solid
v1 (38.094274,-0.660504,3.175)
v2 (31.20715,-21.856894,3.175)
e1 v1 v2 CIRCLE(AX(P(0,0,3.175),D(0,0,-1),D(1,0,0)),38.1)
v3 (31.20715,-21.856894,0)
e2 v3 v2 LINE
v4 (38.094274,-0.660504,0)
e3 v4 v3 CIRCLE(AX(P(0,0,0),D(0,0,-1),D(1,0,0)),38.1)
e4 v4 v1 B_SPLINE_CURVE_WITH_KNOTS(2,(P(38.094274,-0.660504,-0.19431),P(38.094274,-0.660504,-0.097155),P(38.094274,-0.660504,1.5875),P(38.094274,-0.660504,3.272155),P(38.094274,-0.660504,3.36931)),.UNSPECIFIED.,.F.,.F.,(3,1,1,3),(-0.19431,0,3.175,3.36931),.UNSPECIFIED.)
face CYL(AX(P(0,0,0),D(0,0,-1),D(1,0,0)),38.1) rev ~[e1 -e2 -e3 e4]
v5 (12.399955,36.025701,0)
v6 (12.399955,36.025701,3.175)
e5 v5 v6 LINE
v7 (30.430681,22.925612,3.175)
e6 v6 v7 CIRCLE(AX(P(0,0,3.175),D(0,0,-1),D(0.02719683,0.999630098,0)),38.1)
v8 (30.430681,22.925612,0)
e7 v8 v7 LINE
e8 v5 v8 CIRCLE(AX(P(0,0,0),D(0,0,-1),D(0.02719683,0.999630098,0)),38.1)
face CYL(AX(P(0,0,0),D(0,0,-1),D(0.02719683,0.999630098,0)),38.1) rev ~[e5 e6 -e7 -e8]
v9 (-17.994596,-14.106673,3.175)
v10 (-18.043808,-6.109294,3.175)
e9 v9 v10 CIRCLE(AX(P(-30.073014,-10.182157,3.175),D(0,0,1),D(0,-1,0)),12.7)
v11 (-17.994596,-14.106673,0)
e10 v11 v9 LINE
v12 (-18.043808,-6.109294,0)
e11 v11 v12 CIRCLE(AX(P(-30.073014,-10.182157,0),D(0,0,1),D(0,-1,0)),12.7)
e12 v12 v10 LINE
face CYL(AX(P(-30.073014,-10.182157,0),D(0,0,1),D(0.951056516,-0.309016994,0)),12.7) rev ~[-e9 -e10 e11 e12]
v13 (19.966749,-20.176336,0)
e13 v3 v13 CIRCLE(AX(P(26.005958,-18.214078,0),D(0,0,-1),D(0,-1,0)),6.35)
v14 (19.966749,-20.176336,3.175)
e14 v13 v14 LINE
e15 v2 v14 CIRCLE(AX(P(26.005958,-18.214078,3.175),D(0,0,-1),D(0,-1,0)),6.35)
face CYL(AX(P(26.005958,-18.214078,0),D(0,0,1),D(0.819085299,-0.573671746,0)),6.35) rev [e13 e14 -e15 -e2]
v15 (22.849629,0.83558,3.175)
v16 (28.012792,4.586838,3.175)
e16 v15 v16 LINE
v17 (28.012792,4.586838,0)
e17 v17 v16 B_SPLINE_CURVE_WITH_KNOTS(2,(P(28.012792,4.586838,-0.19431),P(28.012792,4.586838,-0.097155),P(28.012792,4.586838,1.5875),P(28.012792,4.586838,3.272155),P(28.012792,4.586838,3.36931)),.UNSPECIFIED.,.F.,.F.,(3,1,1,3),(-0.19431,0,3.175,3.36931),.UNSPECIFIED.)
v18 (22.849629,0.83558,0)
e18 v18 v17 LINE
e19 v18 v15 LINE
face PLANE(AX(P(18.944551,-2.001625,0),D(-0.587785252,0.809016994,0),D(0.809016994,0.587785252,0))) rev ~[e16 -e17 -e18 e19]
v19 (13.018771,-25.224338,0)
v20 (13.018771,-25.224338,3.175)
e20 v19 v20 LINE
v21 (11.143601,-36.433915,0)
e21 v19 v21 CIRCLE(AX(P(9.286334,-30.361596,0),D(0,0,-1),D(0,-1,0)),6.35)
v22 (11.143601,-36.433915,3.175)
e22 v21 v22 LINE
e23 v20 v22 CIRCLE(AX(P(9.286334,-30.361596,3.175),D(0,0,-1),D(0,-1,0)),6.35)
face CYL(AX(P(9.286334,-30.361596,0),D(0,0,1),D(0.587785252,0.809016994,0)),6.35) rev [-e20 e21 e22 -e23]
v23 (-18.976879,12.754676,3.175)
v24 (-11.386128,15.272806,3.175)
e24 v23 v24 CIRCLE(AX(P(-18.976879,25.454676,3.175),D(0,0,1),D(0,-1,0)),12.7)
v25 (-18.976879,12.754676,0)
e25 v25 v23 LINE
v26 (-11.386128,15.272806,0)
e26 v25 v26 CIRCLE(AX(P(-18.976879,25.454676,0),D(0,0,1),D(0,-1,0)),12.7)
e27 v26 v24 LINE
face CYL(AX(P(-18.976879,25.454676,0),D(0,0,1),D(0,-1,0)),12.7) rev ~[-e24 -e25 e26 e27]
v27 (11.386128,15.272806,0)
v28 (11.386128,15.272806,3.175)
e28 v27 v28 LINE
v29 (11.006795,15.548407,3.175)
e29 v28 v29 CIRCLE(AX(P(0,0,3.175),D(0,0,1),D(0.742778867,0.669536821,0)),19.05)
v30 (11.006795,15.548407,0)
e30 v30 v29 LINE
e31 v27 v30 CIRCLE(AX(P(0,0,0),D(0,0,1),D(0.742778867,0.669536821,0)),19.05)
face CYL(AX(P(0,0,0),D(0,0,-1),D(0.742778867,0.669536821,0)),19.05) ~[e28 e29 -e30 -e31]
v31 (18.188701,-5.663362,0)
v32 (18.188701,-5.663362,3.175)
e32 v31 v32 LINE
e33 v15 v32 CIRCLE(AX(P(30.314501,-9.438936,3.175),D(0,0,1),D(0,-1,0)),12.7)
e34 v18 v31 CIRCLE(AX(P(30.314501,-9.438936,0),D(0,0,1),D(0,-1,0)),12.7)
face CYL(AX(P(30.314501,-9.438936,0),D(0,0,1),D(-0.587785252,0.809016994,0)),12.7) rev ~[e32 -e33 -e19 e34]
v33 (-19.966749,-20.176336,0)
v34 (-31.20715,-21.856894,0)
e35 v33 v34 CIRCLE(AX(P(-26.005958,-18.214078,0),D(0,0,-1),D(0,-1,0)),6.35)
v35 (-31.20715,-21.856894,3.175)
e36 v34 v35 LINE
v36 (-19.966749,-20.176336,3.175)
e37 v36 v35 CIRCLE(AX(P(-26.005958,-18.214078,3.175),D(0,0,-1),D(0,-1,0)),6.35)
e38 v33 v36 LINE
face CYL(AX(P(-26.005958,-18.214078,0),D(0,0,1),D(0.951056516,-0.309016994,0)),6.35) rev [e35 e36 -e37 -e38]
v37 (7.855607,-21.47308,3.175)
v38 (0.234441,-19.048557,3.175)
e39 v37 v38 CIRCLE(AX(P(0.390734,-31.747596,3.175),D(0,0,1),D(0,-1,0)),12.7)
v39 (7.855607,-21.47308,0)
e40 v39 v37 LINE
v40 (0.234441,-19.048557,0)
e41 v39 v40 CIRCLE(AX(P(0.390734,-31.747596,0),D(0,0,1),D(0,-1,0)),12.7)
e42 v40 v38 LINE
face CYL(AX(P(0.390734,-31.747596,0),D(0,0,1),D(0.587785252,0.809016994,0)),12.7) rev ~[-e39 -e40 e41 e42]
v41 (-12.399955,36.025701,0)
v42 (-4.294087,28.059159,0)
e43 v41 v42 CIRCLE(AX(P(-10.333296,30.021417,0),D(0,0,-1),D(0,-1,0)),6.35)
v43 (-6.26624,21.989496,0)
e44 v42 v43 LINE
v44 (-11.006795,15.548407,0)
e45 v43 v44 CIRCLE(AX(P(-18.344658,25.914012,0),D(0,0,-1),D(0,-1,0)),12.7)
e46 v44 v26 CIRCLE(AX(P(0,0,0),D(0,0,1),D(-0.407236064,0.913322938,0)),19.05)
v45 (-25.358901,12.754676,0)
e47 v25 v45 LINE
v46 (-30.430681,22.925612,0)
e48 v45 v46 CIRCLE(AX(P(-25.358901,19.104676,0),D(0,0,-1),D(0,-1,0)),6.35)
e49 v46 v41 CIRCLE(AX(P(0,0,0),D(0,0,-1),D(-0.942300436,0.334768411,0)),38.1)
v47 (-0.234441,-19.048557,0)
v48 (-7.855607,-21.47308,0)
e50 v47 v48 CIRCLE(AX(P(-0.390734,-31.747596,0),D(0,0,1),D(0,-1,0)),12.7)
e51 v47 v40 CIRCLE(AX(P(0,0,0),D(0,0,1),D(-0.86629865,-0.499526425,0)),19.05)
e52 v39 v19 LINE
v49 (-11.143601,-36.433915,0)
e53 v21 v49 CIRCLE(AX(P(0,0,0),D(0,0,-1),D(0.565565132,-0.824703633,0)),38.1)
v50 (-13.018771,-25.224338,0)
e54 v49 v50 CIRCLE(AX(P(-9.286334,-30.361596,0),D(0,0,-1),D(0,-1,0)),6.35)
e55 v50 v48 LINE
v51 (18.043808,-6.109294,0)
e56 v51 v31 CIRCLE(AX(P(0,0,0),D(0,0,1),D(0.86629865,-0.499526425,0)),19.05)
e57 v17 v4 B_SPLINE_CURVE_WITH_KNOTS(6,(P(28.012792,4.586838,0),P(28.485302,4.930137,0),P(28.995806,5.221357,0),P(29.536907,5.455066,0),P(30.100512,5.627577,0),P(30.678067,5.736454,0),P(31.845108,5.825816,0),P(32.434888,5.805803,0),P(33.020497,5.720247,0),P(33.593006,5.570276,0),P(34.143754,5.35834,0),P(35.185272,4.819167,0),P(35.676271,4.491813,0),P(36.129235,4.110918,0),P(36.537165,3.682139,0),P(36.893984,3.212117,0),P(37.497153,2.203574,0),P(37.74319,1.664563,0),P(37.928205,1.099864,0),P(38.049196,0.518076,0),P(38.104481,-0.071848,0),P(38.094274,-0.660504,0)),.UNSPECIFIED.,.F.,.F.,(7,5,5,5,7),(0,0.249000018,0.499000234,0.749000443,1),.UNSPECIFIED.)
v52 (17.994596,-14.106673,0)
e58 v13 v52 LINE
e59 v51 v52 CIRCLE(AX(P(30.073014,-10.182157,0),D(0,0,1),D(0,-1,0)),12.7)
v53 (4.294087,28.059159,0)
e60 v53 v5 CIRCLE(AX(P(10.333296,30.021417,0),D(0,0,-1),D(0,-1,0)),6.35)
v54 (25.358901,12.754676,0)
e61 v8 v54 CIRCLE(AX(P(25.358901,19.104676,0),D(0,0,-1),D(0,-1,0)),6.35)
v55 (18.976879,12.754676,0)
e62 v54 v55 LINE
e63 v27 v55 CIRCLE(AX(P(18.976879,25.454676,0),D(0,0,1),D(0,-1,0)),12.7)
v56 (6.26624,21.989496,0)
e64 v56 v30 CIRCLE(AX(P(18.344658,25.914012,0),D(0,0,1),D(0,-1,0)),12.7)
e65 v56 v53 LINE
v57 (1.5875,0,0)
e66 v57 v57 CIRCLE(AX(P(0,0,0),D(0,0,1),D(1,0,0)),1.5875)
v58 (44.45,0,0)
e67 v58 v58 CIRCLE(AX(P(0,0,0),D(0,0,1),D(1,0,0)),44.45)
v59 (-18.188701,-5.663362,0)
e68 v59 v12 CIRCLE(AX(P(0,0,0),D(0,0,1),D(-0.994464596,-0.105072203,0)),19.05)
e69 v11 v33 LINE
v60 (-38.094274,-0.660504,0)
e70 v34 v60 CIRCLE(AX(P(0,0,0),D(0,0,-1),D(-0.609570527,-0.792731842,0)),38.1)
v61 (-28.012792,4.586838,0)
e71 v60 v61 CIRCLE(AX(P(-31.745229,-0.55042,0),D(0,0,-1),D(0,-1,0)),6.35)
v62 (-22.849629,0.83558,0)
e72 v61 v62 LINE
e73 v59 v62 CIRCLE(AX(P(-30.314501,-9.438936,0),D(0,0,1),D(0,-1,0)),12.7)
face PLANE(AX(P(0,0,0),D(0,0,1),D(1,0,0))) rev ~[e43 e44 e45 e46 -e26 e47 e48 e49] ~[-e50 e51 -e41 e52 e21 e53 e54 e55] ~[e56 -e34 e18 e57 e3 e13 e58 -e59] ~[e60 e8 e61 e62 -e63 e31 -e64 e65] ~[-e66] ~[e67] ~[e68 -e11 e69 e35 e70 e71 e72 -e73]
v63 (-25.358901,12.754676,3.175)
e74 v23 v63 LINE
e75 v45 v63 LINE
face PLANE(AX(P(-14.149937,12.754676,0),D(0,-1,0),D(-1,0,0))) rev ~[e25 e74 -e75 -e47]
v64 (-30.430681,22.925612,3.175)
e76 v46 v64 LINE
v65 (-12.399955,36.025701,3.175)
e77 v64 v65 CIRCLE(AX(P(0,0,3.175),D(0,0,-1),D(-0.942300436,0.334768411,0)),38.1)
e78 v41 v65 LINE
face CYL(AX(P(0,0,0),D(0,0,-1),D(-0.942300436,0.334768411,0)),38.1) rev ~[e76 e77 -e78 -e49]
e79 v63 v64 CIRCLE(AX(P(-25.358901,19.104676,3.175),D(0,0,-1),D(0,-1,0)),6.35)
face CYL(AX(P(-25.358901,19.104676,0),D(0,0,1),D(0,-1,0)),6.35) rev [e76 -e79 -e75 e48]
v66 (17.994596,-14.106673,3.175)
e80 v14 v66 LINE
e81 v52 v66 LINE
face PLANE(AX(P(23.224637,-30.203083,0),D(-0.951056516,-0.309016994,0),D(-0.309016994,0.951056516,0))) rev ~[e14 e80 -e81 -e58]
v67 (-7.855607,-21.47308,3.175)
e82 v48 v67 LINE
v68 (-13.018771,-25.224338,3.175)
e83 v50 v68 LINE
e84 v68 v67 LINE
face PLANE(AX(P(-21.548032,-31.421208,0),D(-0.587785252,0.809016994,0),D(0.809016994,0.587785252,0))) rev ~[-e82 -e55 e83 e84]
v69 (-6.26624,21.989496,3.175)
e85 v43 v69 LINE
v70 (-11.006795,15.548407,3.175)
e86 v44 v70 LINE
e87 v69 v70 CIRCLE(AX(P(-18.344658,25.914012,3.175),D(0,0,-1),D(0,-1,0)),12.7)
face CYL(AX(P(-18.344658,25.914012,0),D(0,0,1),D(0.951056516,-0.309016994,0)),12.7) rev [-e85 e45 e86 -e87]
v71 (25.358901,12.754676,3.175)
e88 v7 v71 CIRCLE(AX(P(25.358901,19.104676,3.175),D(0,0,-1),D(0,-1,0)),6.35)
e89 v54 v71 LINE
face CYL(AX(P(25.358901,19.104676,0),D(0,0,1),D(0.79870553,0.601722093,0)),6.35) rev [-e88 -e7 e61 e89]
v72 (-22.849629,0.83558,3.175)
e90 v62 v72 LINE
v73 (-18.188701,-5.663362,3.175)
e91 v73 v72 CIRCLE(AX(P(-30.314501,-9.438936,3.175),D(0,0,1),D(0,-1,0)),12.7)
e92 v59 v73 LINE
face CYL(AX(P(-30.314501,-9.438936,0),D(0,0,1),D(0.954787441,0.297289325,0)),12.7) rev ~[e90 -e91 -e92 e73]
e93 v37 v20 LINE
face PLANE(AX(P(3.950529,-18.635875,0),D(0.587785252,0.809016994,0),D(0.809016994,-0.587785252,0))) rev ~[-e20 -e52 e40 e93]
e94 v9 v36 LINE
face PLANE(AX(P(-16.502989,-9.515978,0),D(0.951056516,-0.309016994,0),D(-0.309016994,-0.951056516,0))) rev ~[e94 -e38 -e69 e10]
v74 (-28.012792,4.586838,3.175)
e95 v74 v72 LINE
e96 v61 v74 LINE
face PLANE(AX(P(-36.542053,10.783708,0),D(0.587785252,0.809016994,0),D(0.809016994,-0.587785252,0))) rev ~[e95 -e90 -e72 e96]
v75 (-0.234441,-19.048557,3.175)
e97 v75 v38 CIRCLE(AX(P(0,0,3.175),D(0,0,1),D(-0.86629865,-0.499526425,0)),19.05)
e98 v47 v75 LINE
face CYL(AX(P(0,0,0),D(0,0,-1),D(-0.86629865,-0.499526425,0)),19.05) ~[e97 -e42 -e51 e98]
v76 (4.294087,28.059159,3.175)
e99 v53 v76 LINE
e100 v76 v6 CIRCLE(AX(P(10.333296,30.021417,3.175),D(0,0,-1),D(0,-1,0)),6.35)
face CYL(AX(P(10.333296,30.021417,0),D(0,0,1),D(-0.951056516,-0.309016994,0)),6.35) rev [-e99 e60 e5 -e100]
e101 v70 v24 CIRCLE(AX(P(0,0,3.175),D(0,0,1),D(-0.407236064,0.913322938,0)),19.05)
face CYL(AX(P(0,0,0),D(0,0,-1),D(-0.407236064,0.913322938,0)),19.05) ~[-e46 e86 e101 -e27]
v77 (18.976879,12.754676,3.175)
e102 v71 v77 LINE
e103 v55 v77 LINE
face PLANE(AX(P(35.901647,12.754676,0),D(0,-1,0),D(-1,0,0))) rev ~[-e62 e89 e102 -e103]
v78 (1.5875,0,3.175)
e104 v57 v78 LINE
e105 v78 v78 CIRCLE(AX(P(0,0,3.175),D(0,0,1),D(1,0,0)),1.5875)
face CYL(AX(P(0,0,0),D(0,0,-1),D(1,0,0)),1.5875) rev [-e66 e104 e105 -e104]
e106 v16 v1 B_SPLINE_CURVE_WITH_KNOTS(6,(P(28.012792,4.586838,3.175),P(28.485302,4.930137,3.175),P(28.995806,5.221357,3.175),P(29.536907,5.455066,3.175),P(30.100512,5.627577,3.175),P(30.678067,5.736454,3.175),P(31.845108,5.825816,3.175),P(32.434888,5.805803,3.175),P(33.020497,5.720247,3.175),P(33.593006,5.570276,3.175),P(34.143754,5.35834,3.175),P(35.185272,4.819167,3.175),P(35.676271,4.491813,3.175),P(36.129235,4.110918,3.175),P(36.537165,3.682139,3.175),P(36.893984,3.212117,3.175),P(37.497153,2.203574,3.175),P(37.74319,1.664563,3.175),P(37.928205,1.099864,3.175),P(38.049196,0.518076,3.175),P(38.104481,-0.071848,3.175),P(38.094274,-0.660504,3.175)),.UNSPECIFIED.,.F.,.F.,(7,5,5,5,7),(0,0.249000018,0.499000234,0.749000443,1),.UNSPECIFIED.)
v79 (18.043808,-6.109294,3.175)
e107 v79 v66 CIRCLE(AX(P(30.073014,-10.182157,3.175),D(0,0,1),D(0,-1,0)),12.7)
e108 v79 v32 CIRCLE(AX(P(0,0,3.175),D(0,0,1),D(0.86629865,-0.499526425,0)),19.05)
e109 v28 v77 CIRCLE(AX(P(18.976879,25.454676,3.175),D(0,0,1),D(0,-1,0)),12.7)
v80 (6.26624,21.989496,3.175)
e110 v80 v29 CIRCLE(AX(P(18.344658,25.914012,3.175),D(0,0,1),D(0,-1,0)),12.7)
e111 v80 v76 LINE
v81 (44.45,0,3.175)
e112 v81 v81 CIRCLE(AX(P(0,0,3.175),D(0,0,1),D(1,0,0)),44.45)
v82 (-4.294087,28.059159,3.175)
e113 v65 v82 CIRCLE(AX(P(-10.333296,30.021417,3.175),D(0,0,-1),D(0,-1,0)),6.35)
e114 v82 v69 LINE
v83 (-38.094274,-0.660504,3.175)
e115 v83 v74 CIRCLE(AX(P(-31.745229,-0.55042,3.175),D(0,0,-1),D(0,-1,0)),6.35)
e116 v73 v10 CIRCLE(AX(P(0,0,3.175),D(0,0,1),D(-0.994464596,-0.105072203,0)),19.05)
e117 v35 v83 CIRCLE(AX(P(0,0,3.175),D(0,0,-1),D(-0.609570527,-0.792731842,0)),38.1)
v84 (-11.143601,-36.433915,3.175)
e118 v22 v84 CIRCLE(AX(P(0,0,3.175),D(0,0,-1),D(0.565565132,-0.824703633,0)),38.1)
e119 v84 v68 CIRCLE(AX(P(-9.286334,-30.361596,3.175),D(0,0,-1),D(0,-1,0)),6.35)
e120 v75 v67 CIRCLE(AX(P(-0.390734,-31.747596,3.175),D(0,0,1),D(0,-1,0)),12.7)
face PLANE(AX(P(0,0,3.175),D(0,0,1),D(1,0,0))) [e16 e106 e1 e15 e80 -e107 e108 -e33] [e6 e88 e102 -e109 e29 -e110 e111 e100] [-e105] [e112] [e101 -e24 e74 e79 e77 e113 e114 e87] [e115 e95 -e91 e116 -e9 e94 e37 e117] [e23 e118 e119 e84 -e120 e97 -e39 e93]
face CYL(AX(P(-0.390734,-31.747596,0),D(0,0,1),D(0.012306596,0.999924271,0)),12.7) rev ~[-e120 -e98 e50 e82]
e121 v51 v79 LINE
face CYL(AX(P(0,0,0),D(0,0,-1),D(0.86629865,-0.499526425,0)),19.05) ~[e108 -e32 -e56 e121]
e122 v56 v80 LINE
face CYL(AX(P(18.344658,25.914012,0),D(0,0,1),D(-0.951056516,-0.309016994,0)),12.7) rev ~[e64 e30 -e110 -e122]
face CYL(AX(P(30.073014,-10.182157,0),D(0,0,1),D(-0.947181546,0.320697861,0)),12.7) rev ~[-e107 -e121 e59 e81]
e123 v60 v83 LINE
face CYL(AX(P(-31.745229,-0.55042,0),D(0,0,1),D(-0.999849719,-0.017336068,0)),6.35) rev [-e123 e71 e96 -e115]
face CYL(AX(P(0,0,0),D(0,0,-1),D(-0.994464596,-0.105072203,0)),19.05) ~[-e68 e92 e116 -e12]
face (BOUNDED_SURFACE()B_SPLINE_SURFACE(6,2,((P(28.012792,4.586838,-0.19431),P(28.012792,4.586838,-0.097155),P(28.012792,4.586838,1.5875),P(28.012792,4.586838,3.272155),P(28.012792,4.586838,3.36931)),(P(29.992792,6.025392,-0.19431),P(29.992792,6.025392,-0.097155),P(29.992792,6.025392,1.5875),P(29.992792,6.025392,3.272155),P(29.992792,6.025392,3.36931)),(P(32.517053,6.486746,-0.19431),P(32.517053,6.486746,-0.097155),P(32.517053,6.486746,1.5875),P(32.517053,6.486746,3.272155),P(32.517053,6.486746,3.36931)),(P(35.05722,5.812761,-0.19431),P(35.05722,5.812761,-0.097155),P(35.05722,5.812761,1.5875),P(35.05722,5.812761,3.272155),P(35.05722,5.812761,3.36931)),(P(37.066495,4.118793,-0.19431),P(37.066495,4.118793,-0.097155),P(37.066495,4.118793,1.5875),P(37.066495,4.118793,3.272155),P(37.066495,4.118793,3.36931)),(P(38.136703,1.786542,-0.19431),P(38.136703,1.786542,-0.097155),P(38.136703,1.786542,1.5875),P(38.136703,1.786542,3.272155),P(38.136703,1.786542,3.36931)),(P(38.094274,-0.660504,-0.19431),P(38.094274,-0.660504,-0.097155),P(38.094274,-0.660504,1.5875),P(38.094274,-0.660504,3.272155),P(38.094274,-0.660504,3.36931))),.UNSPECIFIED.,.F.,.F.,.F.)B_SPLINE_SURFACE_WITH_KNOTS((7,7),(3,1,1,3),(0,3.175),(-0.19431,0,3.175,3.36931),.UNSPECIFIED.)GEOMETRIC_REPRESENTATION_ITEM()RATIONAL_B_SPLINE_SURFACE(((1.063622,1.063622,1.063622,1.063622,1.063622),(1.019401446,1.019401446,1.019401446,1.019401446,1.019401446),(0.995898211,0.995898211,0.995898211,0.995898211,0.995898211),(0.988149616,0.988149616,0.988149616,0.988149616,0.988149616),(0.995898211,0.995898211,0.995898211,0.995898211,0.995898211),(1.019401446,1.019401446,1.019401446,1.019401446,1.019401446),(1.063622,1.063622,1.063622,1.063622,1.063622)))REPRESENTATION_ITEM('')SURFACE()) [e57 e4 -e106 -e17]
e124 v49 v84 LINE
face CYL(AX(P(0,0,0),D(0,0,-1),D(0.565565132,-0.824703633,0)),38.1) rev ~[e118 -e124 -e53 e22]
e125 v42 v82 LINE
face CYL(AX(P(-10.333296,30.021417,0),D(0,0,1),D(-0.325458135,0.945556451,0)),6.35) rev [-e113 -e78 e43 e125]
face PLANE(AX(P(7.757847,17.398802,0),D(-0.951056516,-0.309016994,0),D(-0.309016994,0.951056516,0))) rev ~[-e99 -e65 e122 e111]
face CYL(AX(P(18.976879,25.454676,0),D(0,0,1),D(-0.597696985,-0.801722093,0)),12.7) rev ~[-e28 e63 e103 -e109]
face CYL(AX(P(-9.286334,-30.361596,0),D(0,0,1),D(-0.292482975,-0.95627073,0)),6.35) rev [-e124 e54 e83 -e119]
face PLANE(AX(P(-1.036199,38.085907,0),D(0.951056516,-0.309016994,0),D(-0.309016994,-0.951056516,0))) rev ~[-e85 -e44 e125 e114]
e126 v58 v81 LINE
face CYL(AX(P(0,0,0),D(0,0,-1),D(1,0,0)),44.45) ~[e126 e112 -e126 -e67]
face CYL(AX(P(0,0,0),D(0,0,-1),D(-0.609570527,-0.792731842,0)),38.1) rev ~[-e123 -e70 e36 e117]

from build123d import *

# Parameters (mm, degrees)
F0_R     = 44.45
F0_R_2   = 1.5875
F1_DEPTH = 3.175
F2_R     = 12.7
F3_R     = 6.35


with BuildPart() as f1:
    # F0 (on Top) → F1 (new body)
    with BuildSketch(Plane.XY):
        Circle(F0_R)
        with BuildLine():
            ThreePointArc((39.2548577101, 12.7546764428), (40.7668362581, 6.4568325445), (41.275, 0))
            ThreePointArc((41.275, 0), (36.7762942859, -18.7384578767), (24.2608362884, -33.3921764428))
            ThreePointArc((24.2608362884, -33.3921764428), (0, -41.275), (-24.2608362884, -33.3921764428))
            ThreePointArc((-24.2608362884, -33.3921764428), (-39.2548577101, -12.7546764428), (-39.2548577101, 12.7546764428))
            ThreePointArc((-39.2548577101, 12.7546764428), (-24.2608362884, 33.3921764428), (0, 41.275))
            ThreePointArc((0, 41.275), (24.2608362884, 33.3921764428), (39.2548577101, 12.7546764428))
        make_face(mode=Mode.SUBTRACT)
        with BuildLine():
            Line((-1.0361992177, 38.0859067265), (0, 41.275))
            ThreePointArc((0, 41.275), (-24.2608362884, 33.3921764428), (-39.2548577101, 12.7546764428))
            Line((-39.2548577101, 12.7546764428), (-35.9016466034, 12.7546764428))
            ThreePointArc((-35.9016466034, 12.7546764428), (-22.3946181123, 30.8235474857), (-1.0361992177, 38.0859067265))
        make_face()
        with BuildLine():
            ThreePointArc((-39.2548577101, 12.7546764428), (-39.2548577101, -12.7546764428), (-24.2608362884, -33.3921764428))
            Line((-24.2608362884, -33.3921764428), (-23.2246370707, -30.2030831693))
            ThreePointArc((-23.2246370707, -30.2030831693), (-36.2352532708, -11.7735474857), (-36.5420529391, 10.7837084065))
            Line((-36.5420529391, 10.7837084065), (-39.2548577101, 12.7546764428))
        make_face()
        with BuildLine():
            ThreePointArc((-24.2608362884, -33.3921764428), (0, -41.275), (24.2608362884, -33.3921764428))
            Line((24.2608362884, -33.3921764428), (21.5480315174, -31.4212084065))
            ThreePointArc((21.5480315174, -31.4212084065), (0, -38.1), (-21.5480315174, -31.4212084065))
            Line((-21.5480315174, -31.4212084065), (-24.2608362884, -33.3921764428))
        make_face()
        with BuildLine():
            ThreePointArc((24.2608362884, -33.3921764428), (36.7762942859, -18.7384578767), (41.275, 0))
            ThreePointArc((41.275, 0), (40.7668362581, 6.4568325445), (39.2548577101, 12.7546764428))
            Line((39.2548577101, 12.7546764428), (36.5420529391, 10.7837084065))
            ThreePointArc((36.5420529391, 10.7837084065), (37.7085018065, 5.447833653), (38.1, 0))
            ThreePointArc((38.1, 0), (34.1794431815, -16.833765586), (23.2246370707, -30.2030831693))
            Line((23.2246370707, -30.2030831693), (24.2608362884, -33.3921764428))
        make_face()
        with BuildLine():
            Line((35.9016466034, 12.7546764428), (39.2548577101, 12.7546764428))
            ThreePointArc((39.2548577101, 12.7546764428), (24.2608362884, 33.3921764428), (0, 41.275))
            Line((0, 41.275), (1.0361992177, 38.0859067265))
            ThreePointArc((1.0361992177, 38.0859067265), (22.3946181123, 30.8235474857), (35.9016466034, 12.7546764428))
        make_face()
        with BuildLine():
            Line((7.7578470137, 17.398801962), (1.0361992177, 38.0859067265))
            ThreePointArc((1.0361992177, 38.0859067265), (0, 38.1), (-1.0361992177, 38.0859067265))
            Line((-1.0361992177, 38.0859067265), (-7.7578470137, 17.398801962))
            ThreePointArc((-7.7578470137, 17.398801962), (0, 19.05), (7.7578470137, 17.398801962))
        make_face()
        with BuildLine():
            Line((-14.1499374147, 12.7546764428), (-35.9016466034, 12.7546764428))
            ThreePointArc((-35.9016466034, 12.7546764428), (-36.2352532708, 11.7735474857), (-36.5420529391, 10.7837084065))
            Line((-36.5420529391, 10.7837084065), (-18.9445505487, -2.0016254668))
            ThreePointArc((-18.9445505487, -2.0016254668), (-18.1176266354, 5.8867737428), (-14.1499374147, 12.7546764428))
        make_face()
        with BuildLine():
            Line((18.9445505487, -2.0016254668), (36.5420529391, 10.7837084065))
            ThreePointArc((36.5420529391, 10.7837084065), (36.2352532708, 11.7735474857), (35.9016466034, 12.7546764428))
            Line((35.9016466034, 12.7546764428), (14.1499374147, 12.7546764428))
            ThreePointArc((14.1499374147, 12.7546764428), (17.7828401521, 6.8317710826), (19.05, 0))
            ThreePointArc((19.05, 0), (19.0236193711, -1.0022005907), (18.9445505487, -2.0016254668))
        make_face()
        with BuildLine():
            Line((3.9505291269, -18.6358745332), (21.5480315174, -31.4212084065))
            ThreePointArc((21.5480315174, -31.4212084065), (22.3946181123, -30.8235474857), (23.2246370707, -30.2030831693))
            Line((23.2246370707, -30.2030831693), (16.5029892747, -9.5159784048))
            ThreePointArc((16.5029892747, -9.5159784048), (11.1973090562, -15.4117737428), (3.9505291269, -18.6358745332))
        make_face()
        with BuildLine():
            Line((-16.5029892747, -9.5159784048), (-23.2246370707, -30.2030831693))
            ThreePointArc((-23.2246370707, -30.2030831693), (-22.3946181123, -30.8235474857), (-21.5480315174, -31.4212084065))
            Line((-21.5480315174, -31.4212084065), (-3.9505291269, -18.6358745332))
            ThreePointArc((-3.9505291269, -18.6358745332), (-11.1973090562, -15.4117737428), (-16.5029892747, -9.5159784048))
        make_face()
        with BuildLine():
            Line((-35.9016466034, 12.7546764428), (-39.2548577101, 12.7546764428))
            Line((-39.2548577101, 12.7546764428), (-36.5420529391, 10.7837084065))
            ThreePointArc((-36.5420529391, 10.7837084065), (-36.2352532708, 11.7735474857), (-35.9016466034, 12.7546764428))
        make_face()
        with BuildLine():
            Line((-23.2246370707, -30.2030831693), (-24.2608362884, -33.3921764428))
            Line((-24.2608362884, -33.3921764428), (-21.5480315174, -31.4212084065))
            ThreePointArc((-21.5480315174, -31.4212084065), (-22.3946181123, -30.8235474857), (-23.2246370707, -30.2030831693))
        make_face()
        with BuildLine():
            Line((21.5480315174, -31.4212084065), (24.2608362884, -33.3921764428))
            Line((24.2608362884, -33.3921764428), (23.2246370707, -30.2030831693))
            ThreePointArc((23.2246370707, -30.2030831693), (22.3946181123, -30.8235474857), (21.5480315174, -31.4212084065))
        make_face()
        with BuildLine():
            Line((36.5420529391, 10.7837084065), (39.2548577101, 12.7546764428))
            Line((39.2548577101, 12.7546764428), (35.9016466034, 12.7546764428))
            ThreePointArc((35.9016466034, 12.7546764428), (36.2352532708, 11.7735474857), (36.5420529391, 10.7837084065))
        make_face()
        with BuildLine():
            Line((1.0361992177, 38.0859067265), (0, 41.275))
            Line((0, 41.275), (-1.0361992177, 38.0859067265))
            ThreePointArc((-1.0361992177, 38.0859067265), (0, 38.1), (1.0361992177, 38.0859067265))
        make_face()
        with BuildLine():
            ThreePointArc((16.5029892747, -9.5159784048), (18.1176266354, -5.8867737428), (18.9445505487, -2.0016254668))
            ThreePointArc((18.9445505487, -2.0016254668), (19.0236193711, -1.0022005907), (19.05, 0))
            ThreePointArc((19.05, 0), (17.7828401521, 6.8317710826), (14.1499374147, 12.7546764428))
            ThreePointArc((14.1499374147, 12.7546764428), (11.1973090562, 15.4117737428), (7.7578470137, 17.398801962))
            ThreePointArc((7.7578470137, 17.398801962), (0, 19.05), (-7.7578470137, 17.398801962))
            ThreePointArc((-7.7578470137, 17.398801962), (-11.1973090562, 15.4117737428), (-14.1499374147, 12.7546764428))
            ThreePointArc((-14.1499374147, 12.7546764428), (-18.1176266354, 5.8867737428), (-18.9445505487, -2.0016254668))
            ThreePointArc((-18.9445505487, -2.0016254668), (-18.1176266354, -5.8867737428), (-16.5029892747, -9.5159784048))
            ThreePointArc((-16.5029892747, -9.5159784048), (-11.1973090562, -15.4117737428), (-3.9505291269, -18.6358745332))
            ThreePointArc((-3.9505291269, -18.6358745332), (0, -19.05), (3.9505291269, -18.6358745332))
            ThreePointArc((3.9505291269, -18.6358745332), (11.1973090562, -15.4117737428), (16.5029892747, -9.5159784048))
        make_face()
        Circle(F0_R_2, mode=Mode.SUBTRACT)
    extrude(amount=F1_DEPTH)

    # F2
    f2_edges = [f1.edges().sort_by_distance(p)[0] for p in [
        (-7.757847, 17.398802, 1.5875),
        (7.757847, 17.398802, 1.5875),
        (16.502989, -9.515978, 1.5875),
        (18.944551, -2.001625, 1.5875),
        (14.149937, 12.754676, 1.5875),
        (-14.149937, 12.754676, 1.5875),
        (-16.502989, -9.515978, 1.5875),
        (-18.944551, -2.001625, 1.5875),
        (-3.950529, -18.635875, 1.5875),
        (3.950529, -18.635875, 1.5875),
    ]]
    fillet(f2_edges, radius=F2_R)

    # F3
    f3_edges = [f1.edges().sort_by_distance(p)[0] for p in [
        (-21.548032, -31.421208, 1.5875),
        (21.548032, -31.421208, 1.5875),
        (-36.542053, 10.783708, 1.5875),
        (-23.224637, -30.203083, 1.5875),
        (-35.901647, 12.754676, 1.5875),
        (1.036199, 38.085907, 1.5875),
        (23.224637, -30.203083, 1.5875),
        (-1.036199, 38.085907, 1.5875),
        (35.901647, 12.754676, 1.5875),
        (36.542053, 10.783708, 1.5875),
    ]]
    fillet(f3_edges, radius=F3_R)


solid = f1.part
